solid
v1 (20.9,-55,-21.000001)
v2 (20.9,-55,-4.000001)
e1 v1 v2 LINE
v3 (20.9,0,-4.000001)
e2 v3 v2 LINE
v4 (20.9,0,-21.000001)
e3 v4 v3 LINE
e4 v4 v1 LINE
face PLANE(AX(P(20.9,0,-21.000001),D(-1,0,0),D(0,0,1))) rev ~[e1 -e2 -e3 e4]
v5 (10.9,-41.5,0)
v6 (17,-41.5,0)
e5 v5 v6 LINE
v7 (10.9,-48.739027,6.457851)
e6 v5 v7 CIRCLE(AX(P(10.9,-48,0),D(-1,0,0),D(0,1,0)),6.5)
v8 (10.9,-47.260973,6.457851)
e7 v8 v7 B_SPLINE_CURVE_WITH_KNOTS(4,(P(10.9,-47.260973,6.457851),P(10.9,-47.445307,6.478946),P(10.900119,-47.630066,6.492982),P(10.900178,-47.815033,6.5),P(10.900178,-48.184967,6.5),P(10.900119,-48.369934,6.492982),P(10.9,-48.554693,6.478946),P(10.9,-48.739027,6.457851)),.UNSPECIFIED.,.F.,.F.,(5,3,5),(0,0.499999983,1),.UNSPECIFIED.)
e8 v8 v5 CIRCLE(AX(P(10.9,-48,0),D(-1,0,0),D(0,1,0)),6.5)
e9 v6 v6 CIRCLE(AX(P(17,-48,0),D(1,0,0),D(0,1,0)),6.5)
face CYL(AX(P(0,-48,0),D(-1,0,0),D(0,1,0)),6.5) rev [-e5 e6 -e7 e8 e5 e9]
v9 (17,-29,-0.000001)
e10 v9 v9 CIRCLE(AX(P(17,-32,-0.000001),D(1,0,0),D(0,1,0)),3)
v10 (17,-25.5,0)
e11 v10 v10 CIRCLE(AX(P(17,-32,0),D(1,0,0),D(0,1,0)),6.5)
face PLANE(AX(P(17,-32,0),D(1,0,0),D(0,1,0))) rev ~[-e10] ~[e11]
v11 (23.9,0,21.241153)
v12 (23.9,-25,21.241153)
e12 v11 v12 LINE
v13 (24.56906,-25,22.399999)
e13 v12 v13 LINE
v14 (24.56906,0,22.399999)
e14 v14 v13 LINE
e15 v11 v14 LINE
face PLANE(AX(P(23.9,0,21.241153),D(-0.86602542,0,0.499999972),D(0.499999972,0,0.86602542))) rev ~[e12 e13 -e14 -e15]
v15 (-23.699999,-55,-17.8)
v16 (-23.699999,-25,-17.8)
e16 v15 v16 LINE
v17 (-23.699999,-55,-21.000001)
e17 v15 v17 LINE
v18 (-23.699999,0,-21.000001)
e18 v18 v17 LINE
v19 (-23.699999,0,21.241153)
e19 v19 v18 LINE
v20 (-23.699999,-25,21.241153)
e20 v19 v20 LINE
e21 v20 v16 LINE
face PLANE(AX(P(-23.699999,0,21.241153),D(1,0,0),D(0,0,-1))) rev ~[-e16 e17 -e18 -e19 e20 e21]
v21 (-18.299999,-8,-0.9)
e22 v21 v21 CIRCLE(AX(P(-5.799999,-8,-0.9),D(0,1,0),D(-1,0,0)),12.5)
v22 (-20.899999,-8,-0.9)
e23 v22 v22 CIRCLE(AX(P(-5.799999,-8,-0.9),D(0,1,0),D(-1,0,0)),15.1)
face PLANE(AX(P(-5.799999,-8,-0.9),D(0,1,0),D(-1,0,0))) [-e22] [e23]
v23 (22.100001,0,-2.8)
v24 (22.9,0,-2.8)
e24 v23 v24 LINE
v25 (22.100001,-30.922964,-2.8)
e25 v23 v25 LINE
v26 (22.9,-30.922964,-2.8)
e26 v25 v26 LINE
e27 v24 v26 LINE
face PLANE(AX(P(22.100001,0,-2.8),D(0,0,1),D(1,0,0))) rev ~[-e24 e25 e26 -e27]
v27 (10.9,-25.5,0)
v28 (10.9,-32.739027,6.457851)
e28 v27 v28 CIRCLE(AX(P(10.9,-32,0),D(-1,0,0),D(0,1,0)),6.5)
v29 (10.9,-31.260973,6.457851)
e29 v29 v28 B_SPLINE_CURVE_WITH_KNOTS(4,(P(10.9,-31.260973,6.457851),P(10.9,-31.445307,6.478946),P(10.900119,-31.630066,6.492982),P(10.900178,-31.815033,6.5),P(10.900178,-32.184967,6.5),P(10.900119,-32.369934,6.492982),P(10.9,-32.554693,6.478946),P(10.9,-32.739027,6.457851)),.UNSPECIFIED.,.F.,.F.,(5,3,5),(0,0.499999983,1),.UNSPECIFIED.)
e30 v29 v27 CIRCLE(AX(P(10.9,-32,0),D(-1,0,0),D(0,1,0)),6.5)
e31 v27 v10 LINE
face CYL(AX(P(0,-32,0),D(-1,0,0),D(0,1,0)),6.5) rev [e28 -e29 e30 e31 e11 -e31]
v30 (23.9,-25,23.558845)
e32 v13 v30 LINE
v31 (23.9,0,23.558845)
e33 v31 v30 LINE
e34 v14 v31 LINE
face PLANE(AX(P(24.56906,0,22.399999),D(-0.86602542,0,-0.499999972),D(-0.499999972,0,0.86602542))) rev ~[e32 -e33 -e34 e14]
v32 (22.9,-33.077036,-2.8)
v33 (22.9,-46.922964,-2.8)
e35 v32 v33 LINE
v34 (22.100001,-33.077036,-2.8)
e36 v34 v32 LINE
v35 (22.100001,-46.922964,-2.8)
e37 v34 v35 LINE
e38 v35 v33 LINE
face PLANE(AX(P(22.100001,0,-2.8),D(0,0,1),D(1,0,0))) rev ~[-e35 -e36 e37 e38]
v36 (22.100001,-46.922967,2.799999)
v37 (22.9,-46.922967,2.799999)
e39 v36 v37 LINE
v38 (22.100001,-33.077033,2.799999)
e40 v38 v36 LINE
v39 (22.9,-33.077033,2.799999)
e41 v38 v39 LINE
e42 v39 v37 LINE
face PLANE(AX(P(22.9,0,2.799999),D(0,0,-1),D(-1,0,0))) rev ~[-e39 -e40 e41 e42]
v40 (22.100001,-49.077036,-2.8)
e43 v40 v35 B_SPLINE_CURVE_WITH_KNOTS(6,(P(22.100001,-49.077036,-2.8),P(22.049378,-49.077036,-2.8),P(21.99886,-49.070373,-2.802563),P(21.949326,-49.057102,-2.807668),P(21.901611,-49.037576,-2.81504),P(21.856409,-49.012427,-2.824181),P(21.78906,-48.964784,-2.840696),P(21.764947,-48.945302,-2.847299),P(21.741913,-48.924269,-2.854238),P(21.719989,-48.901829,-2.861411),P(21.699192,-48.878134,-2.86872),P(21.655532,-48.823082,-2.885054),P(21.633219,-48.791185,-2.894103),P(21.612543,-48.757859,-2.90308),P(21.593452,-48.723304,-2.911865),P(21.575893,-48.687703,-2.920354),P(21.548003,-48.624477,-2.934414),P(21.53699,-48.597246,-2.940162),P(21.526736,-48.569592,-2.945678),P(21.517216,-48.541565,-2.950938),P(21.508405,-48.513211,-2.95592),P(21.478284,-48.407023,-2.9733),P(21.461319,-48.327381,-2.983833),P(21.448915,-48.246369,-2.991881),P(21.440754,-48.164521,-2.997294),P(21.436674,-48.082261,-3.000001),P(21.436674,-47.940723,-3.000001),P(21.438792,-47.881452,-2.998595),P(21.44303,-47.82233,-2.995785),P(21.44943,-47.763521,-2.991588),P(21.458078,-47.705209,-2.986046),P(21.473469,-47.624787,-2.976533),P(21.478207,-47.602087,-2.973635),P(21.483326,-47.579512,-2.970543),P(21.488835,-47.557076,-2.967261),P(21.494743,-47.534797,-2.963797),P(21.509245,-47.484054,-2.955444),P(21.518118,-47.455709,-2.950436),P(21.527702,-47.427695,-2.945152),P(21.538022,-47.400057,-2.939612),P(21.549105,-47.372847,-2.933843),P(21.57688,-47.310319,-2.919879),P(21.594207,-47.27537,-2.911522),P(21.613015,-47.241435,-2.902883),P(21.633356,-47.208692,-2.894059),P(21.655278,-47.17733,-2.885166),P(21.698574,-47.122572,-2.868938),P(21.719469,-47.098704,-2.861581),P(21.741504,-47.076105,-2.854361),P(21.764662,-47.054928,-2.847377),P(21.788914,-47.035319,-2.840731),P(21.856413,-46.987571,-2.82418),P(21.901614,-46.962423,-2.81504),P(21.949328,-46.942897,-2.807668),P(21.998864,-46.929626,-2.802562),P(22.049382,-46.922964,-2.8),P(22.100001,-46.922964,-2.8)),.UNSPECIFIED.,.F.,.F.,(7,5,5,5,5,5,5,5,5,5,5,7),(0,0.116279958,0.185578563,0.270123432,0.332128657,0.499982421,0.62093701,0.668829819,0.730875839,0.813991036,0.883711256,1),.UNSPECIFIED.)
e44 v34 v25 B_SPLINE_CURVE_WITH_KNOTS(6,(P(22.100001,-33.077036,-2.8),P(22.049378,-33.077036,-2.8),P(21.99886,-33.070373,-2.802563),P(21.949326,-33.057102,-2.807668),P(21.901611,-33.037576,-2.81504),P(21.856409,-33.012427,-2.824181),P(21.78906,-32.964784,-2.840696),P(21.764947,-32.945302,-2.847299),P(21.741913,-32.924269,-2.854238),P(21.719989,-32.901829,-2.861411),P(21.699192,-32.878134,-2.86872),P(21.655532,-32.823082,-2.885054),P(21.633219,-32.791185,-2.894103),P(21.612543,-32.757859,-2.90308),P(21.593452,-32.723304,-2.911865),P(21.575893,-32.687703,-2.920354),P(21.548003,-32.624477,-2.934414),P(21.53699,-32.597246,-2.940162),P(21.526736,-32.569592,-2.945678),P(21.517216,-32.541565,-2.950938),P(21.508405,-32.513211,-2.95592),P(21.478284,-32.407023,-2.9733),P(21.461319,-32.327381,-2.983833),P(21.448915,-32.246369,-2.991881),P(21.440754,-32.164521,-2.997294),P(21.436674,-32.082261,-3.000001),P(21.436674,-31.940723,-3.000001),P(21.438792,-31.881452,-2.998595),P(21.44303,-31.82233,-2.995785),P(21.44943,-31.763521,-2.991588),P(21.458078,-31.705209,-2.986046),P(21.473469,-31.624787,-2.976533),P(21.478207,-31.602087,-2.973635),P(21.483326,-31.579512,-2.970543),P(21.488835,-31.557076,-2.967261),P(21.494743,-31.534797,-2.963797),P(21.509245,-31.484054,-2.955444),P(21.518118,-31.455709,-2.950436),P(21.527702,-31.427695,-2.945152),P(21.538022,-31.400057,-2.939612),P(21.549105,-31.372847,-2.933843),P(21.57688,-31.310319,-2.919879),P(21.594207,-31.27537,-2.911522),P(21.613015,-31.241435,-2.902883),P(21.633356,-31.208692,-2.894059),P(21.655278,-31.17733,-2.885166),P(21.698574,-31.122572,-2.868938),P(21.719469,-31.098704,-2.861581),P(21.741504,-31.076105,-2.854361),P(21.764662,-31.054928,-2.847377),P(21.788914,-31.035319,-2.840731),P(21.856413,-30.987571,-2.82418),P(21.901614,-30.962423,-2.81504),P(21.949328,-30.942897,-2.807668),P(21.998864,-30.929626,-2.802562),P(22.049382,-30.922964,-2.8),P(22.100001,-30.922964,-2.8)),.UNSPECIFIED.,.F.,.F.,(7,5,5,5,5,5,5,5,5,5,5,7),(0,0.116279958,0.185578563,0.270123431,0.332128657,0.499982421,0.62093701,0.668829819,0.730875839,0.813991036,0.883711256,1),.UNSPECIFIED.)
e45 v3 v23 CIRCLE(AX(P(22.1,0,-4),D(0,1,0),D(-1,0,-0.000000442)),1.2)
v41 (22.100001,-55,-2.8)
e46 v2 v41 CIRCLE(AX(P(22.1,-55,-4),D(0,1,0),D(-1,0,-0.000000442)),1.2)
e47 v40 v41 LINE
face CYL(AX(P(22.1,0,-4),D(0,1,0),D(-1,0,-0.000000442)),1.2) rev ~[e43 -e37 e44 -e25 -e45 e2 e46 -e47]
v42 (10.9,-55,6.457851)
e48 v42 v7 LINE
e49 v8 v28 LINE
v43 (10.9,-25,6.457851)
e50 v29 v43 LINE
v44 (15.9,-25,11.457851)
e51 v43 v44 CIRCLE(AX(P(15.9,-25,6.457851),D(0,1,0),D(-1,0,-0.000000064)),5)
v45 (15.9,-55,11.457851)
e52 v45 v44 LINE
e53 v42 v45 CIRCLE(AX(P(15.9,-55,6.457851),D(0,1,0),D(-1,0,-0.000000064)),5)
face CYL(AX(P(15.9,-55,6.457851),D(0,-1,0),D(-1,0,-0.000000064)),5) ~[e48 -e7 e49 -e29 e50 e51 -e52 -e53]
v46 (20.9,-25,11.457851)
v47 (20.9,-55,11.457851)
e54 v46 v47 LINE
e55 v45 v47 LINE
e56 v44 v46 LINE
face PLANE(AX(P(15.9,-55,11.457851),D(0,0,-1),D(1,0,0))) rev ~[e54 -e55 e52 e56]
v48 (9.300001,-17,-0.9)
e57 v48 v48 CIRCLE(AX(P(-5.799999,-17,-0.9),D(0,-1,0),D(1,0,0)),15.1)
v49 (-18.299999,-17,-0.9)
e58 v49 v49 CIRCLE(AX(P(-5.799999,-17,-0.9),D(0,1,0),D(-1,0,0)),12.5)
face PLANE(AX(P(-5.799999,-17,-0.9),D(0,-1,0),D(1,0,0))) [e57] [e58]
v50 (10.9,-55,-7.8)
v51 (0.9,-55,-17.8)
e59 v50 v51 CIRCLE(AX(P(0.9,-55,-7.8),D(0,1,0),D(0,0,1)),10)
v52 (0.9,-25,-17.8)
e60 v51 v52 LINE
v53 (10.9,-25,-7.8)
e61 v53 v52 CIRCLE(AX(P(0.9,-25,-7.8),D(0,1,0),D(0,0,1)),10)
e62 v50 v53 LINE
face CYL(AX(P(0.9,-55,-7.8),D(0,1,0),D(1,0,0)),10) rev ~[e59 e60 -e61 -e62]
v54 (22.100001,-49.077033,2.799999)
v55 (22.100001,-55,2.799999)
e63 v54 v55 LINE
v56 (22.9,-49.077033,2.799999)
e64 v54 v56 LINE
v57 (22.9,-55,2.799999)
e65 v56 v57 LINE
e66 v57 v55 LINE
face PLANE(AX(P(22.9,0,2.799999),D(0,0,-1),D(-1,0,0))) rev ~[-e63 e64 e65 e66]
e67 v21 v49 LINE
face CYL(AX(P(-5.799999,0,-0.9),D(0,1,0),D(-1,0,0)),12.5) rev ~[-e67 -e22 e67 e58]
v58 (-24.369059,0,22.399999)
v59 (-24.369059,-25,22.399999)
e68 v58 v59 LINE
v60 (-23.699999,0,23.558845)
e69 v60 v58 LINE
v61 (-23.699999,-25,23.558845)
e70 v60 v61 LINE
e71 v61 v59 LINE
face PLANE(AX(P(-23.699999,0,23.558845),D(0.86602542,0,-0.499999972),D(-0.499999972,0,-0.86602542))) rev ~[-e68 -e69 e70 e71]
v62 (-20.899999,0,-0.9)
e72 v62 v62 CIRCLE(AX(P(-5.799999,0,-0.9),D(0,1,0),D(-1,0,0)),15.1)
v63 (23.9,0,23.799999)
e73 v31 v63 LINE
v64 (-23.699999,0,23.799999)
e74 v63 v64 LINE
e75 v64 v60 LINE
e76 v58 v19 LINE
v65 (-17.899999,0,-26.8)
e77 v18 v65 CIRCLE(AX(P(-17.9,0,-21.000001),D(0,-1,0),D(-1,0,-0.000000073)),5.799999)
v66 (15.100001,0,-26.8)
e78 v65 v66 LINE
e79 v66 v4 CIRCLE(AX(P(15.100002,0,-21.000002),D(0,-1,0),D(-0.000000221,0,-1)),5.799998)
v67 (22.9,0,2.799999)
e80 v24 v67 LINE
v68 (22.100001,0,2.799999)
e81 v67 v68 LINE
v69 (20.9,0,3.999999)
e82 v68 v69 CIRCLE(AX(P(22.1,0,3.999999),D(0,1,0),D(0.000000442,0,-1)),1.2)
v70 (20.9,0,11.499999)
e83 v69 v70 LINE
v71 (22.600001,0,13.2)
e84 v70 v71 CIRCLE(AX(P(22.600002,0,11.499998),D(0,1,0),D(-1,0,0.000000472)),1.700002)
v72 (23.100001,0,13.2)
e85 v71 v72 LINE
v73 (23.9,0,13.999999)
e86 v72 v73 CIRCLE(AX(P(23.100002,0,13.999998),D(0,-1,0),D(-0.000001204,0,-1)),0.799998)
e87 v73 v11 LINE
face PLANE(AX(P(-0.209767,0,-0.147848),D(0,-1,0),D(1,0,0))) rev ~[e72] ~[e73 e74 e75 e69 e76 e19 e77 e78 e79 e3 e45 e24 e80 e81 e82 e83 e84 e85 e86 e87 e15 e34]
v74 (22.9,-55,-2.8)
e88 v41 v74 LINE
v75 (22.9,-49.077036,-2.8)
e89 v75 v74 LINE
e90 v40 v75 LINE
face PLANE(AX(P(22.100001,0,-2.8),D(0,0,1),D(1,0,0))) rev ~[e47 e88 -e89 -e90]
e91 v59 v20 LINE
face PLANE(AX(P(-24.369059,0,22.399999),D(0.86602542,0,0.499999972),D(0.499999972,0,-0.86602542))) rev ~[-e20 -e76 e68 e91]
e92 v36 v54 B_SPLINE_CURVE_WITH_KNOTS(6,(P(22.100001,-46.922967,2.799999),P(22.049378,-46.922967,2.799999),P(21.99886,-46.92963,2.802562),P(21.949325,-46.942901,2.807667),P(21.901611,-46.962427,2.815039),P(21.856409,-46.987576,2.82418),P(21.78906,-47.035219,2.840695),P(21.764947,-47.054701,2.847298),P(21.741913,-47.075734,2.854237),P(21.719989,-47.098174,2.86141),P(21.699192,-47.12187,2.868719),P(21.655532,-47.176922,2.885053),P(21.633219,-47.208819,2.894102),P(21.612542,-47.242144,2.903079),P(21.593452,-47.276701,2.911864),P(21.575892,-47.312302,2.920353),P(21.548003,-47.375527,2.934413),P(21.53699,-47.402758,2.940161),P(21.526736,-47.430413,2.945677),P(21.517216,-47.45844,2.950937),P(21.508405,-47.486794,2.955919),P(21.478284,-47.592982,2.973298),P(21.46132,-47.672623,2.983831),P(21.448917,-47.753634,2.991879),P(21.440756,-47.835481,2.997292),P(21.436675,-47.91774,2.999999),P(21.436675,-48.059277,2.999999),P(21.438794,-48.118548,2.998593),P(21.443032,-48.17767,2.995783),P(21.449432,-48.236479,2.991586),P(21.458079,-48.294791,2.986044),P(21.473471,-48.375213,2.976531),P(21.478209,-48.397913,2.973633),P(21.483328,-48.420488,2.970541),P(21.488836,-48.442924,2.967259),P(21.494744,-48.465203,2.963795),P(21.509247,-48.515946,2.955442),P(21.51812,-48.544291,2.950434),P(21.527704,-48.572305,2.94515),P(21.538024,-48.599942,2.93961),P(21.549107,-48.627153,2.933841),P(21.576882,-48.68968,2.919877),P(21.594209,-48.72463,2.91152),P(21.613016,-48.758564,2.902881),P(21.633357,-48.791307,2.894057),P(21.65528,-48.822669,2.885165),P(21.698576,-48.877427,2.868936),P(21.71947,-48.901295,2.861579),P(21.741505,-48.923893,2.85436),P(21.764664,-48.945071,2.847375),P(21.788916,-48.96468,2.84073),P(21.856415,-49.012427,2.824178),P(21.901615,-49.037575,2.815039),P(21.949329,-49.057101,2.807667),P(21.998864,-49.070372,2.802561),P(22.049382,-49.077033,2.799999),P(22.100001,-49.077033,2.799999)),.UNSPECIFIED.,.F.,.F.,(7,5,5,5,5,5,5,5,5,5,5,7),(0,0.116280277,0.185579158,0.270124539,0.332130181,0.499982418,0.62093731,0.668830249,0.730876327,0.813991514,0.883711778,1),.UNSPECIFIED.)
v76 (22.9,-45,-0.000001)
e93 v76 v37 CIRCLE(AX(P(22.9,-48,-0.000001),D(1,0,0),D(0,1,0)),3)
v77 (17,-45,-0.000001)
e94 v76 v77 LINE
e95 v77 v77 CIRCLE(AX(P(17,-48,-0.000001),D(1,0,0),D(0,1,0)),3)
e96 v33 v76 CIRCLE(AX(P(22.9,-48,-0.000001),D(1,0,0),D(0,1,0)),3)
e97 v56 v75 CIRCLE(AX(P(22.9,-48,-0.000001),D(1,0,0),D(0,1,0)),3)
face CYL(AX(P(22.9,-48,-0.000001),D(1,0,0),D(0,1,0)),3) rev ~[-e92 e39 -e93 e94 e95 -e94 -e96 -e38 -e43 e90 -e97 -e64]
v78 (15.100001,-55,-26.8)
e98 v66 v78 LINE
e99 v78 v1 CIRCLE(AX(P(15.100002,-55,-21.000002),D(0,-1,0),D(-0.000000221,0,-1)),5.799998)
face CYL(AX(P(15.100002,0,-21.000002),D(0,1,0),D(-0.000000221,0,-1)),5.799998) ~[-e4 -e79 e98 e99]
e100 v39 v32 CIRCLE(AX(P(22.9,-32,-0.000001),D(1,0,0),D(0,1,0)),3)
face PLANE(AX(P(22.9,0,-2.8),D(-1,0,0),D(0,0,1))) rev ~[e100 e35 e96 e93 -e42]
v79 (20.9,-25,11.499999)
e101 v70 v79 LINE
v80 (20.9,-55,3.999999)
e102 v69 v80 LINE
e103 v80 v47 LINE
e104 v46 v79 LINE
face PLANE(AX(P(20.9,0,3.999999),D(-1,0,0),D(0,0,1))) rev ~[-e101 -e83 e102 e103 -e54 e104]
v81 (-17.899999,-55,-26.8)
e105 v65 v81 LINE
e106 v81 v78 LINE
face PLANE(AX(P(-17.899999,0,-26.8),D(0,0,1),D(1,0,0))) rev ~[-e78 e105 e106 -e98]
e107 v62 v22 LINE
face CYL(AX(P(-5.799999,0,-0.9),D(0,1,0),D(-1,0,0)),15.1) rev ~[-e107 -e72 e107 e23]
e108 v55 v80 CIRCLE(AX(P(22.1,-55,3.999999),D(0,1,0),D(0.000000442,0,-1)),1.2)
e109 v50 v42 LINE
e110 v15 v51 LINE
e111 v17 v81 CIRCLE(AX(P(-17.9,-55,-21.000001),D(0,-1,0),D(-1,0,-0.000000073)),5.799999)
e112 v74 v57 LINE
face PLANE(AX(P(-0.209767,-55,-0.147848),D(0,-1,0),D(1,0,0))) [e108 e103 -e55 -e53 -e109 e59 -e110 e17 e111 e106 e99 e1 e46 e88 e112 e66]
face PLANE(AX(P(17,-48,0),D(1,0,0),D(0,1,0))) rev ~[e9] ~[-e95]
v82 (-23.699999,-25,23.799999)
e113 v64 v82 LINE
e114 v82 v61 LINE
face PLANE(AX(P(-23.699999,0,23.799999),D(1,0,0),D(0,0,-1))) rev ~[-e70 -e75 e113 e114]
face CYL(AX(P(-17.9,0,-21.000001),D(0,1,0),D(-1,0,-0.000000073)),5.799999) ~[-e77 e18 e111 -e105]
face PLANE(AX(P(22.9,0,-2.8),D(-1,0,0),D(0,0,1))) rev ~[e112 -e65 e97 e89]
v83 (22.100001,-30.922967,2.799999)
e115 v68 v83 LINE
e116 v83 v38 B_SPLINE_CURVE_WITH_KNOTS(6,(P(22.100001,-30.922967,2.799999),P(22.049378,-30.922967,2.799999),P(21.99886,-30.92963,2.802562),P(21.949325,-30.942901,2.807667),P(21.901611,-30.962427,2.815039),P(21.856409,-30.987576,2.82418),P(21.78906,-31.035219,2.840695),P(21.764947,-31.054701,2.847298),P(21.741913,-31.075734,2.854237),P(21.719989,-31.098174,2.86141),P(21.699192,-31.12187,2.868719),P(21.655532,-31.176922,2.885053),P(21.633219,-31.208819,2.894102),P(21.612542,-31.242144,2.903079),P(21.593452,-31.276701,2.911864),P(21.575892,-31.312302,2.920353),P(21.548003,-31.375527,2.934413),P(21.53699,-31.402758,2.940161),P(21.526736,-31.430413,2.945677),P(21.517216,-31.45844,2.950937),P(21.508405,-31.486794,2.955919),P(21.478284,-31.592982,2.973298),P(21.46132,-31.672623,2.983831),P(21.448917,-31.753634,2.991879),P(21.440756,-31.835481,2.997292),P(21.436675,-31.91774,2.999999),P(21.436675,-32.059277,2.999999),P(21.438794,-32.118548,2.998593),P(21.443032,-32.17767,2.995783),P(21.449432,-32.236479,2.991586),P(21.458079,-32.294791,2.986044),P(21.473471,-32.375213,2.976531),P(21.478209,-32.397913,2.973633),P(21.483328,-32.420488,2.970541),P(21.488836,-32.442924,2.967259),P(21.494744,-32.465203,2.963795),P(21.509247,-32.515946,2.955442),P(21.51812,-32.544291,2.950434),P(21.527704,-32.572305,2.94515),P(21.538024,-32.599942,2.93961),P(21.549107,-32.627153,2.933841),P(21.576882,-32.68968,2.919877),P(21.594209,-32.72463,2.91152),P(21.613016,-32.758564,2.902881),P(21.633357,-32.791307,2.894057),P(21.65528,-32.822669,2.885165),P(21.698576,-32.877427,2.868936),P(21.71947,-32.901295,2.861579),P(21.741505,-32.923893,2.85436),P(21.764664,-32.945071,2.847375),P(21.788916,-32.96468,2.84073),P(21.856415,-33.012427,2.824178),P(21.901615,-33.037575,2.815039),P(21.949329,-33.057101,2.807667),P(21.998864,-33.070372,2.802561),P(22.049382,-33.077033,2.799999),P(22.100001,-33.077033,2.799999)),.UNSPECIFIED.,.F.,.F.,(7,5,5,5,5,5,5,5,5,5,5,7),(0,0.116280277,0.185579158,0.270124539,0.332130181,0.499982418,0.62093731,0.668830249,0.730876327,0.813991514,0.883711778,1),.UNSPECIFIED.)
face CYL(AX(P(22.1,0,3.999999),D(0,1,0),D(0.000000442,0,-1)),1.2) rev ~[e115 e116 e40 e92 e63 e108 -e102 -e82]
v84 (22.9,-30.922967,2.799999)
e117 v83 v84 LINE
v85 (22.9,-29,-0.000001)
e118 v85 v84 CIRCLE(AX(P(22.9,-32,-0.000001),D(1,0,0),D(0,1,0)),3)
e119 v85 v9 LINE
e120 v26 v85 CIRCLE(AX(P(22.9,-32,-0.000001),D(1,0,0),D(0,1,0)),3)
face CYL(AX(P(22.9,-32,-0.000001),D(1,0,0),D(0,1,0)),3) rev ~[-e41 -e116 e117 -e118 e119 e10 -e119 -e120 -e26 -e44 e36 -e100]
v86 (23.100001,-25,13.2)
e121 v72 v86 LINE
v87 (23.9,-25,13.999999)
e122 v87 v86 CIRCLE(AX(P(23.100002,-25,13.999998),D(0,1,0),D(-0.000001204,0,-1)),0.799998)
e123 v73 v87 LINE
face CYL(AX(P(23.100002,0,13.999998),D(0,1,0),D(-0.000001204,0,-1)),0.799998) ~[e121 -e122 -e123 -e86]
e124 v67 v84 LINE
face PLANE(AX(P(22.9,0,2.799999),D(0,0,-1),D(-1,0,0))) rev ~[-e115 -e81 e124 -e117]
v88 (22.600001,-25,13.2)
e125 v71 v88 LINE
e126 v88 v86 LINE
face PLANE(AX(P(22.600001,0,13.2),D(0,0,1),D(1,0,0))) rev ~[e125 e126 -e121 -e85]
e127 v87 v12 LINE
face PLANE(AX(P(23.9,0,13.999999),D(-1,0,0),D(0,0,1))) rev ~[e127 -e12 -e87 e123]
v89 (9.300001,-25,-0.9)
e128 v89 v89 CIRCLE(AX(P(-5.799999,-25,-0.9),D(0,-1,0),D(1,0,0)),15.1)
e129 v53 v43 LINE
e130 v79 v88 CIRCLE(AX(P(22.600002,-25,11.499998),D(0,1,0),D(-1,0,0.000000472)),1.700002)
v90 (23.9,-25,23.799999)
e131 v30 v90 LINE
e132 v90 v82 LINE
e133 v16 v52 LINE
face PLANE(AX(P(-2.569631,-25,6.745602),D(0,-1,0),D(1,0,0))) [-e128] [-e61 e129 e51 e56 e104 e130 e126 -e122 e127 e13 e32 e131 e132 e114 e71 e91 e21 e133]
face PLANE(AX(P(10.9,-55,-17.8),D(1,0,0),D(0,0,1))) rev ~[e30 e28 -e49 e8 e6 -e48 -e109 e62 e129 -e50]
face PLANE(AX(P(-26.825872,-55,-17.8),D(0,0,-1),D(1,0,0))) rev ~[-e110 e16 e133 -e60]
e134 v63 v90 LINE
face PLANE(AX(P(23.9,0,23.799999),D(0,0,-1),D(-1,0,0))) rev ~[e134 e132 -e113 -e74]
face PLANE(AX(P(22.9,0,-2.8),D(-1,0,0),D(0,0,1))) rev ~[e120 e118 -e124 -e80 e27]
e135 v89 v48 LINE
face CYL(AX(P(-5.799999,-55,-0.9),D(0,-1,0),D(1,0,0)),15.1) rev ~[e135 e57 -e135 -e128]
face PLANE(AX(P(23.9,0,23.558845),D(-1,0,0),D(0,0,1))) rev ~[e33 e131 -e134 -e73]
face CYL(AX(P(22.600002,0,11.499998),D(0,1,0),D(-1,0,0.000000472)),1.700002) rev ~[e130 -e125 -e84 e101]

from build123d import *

# Parameters (mm, degrees)
F1_DEPTH  = 55
F3_DEPTH  = 30
F4_R      = 3
F5_DEPTH  = 25
F6_R      = 12.5
F7_DEPTH  = 25
F8_R      = 15.1
F9_DEPTH  = 38
F10_R     = 15.1
F11_DEPTH = 8
F12_R     = 6.5
F13_DEPTH = 17
F14_R     = 10


with BuildPart() as f1:
    # F0 (on Front) → F1 (new body)
    with BuildSketch(Plane.XZ):
        with BuildLine():
            Line((-23.699999, 23.799999), (-23.699999, 23.558845))
            Line((-23.699999, 23.558845), (-24.369059, 22.399999))
            Line((-24.369059, 22.399999), (-23.699999, 21.241153))
            Line((-23.699999, 21.241153), (-23.699999, -21.000001))
            ThreePointArc((-23.699999, -21.000001), (-22.001218, -25.10122), (-17.899999, -26.8))
            Line((-17.899999, -26.8), (15.100001, -26.8))
            ThreePointArc((15.100001, -26.8), (19.20122, -25.10122), (20.9, -21.000001))
            Line((20.9, -21.000001), (20.9, -4.000001))
            ThreePointArc((20.9, -4.000001), (21.251472, -3.151472), (22.100001, -2.8))
            Line((22.100001, -2.8), (22.9, -2.8))
            Line((22.9, -2.8), (22.9, 2.799999))
            Line((22.9, 2.799999), (22.100001, 2.799999))
            ThreePointArc((22.100001, 2.799999), (21.251472, 3.151471), (20.9, 3.999999))
            Line((20.9, 3.999999), (20.9, 11.499999))
            ThreePointArc((20.9, 11.499999), (21.397919, 12.702081), (22.600001, 13.2))
            Line((22.600001, 13.2), (23.100001, 13.2))
            ThreePointArc((23.100001, 13.2), (23.665686, 13.434314), (23.9, 13.999999))
            Line((23.9, 13.999999), (23.9, 21.241153))
            Line((23.9, 21.241153), (24.56906, 22.399999))
            Line((24.56906, 22.399999), (23.9, 23.558845))
            Line((23.9, 23.558845), (23.9, 23.799999))
            Line((23.9, 23.799999), (-23.699999, 23.799999))
        make_face()
    extrude(amount=F1_DEPTH)

    # F2 (on face) → F3 (cut)
    with BuildSketch(Plane.XZ.offset(55)):
        with BuildLine():
            Line((15.9, 11.457851), (26.682628, 11.457851))
            Line((26.682628, 11.457851), (26.682628, 26.709846))
            Line((26.682628, 26.709846), (-26.825872, 26.709846))
            Line((-26.825872, 26.709846), (-26.825872, -17.8))
            Line((-26.825872, -17.8), (5.9, -17.8))
            Line((5.9, -17.8), (10.9, -17.8))
            Line((10.9, -17.8), (10.9, -11.8))
            Line((10.9, -11.8), (10.9, 6.457851))
            ThreePointArc((10.9, 6.457851), (12.364466, 9.993385), (15.9, 11.457851))
        make_face()
    extrude(amount=-F3_DEPTH, mode=Mode.SUBTRACT)

    # F4 (on face) → F5 (cut)
    with BuildSketch(Plane.YZ.offset(22.9)):
        with Locations((-48, -1e-06)):
            Circle(F4_R)
        with Locations((-32, -1e-06)):
            Circle(F4_R)
    extrude(amount=-F5_DEPTH, mode=Mode.SUBTRACT)

    # F6 (on face) → F7 (cut, through all)
    with BuildSketch(Plane(origin=(0, 0, 0), x_dir=(-1, 0, 0), z_dir=(0, 1, 0))):
        with Locations((5.799999, -0.9)):
            Circle(F6_R)
    extrude(amount=-F7_DEPTH, mode=Mode.SUBTRACT)

    # F8 (on face) → F9 (cut)
    with BuildSketch(Plane.XZ.offset(55)):
        with Locations((-5.799999, -0.9)):
            Circle(F8_R)
    extrude(amount=-F9_DEPTH, mode=Mode.SUBTRACT)

    # F10 (on face) → F11 (cut)
    with BuildSketch(Plane(origin=(0, 0, 0), x_dir=(-1, 0, 0), z_dir=(0, 1, 0))):
        with Locations((5.799999, -0.9)):
            Circle(F10_R)
    extrude(amount=-F11_DEPTH, mode=Mode.SUBTRACT)

    # F12 (on Right) → F13 (cut)
    with BuildSketch(Plane.YZ):
        with Locations((-32, 0)):
            Circle(F12_R)
        with Locations((-48, 0)):
            Circle(F12_R)
    extrude(amount=F13_DEPTH, mode=Mode.SUBTRACT)

    # F14
    f14_edges = [f1.edges().sort_by_distance(p)[0] for p in [
        (10.9, -40, -17.8),
    ]]
    fillet(f14_edges, radius=F14_R)


solid = f1.part
